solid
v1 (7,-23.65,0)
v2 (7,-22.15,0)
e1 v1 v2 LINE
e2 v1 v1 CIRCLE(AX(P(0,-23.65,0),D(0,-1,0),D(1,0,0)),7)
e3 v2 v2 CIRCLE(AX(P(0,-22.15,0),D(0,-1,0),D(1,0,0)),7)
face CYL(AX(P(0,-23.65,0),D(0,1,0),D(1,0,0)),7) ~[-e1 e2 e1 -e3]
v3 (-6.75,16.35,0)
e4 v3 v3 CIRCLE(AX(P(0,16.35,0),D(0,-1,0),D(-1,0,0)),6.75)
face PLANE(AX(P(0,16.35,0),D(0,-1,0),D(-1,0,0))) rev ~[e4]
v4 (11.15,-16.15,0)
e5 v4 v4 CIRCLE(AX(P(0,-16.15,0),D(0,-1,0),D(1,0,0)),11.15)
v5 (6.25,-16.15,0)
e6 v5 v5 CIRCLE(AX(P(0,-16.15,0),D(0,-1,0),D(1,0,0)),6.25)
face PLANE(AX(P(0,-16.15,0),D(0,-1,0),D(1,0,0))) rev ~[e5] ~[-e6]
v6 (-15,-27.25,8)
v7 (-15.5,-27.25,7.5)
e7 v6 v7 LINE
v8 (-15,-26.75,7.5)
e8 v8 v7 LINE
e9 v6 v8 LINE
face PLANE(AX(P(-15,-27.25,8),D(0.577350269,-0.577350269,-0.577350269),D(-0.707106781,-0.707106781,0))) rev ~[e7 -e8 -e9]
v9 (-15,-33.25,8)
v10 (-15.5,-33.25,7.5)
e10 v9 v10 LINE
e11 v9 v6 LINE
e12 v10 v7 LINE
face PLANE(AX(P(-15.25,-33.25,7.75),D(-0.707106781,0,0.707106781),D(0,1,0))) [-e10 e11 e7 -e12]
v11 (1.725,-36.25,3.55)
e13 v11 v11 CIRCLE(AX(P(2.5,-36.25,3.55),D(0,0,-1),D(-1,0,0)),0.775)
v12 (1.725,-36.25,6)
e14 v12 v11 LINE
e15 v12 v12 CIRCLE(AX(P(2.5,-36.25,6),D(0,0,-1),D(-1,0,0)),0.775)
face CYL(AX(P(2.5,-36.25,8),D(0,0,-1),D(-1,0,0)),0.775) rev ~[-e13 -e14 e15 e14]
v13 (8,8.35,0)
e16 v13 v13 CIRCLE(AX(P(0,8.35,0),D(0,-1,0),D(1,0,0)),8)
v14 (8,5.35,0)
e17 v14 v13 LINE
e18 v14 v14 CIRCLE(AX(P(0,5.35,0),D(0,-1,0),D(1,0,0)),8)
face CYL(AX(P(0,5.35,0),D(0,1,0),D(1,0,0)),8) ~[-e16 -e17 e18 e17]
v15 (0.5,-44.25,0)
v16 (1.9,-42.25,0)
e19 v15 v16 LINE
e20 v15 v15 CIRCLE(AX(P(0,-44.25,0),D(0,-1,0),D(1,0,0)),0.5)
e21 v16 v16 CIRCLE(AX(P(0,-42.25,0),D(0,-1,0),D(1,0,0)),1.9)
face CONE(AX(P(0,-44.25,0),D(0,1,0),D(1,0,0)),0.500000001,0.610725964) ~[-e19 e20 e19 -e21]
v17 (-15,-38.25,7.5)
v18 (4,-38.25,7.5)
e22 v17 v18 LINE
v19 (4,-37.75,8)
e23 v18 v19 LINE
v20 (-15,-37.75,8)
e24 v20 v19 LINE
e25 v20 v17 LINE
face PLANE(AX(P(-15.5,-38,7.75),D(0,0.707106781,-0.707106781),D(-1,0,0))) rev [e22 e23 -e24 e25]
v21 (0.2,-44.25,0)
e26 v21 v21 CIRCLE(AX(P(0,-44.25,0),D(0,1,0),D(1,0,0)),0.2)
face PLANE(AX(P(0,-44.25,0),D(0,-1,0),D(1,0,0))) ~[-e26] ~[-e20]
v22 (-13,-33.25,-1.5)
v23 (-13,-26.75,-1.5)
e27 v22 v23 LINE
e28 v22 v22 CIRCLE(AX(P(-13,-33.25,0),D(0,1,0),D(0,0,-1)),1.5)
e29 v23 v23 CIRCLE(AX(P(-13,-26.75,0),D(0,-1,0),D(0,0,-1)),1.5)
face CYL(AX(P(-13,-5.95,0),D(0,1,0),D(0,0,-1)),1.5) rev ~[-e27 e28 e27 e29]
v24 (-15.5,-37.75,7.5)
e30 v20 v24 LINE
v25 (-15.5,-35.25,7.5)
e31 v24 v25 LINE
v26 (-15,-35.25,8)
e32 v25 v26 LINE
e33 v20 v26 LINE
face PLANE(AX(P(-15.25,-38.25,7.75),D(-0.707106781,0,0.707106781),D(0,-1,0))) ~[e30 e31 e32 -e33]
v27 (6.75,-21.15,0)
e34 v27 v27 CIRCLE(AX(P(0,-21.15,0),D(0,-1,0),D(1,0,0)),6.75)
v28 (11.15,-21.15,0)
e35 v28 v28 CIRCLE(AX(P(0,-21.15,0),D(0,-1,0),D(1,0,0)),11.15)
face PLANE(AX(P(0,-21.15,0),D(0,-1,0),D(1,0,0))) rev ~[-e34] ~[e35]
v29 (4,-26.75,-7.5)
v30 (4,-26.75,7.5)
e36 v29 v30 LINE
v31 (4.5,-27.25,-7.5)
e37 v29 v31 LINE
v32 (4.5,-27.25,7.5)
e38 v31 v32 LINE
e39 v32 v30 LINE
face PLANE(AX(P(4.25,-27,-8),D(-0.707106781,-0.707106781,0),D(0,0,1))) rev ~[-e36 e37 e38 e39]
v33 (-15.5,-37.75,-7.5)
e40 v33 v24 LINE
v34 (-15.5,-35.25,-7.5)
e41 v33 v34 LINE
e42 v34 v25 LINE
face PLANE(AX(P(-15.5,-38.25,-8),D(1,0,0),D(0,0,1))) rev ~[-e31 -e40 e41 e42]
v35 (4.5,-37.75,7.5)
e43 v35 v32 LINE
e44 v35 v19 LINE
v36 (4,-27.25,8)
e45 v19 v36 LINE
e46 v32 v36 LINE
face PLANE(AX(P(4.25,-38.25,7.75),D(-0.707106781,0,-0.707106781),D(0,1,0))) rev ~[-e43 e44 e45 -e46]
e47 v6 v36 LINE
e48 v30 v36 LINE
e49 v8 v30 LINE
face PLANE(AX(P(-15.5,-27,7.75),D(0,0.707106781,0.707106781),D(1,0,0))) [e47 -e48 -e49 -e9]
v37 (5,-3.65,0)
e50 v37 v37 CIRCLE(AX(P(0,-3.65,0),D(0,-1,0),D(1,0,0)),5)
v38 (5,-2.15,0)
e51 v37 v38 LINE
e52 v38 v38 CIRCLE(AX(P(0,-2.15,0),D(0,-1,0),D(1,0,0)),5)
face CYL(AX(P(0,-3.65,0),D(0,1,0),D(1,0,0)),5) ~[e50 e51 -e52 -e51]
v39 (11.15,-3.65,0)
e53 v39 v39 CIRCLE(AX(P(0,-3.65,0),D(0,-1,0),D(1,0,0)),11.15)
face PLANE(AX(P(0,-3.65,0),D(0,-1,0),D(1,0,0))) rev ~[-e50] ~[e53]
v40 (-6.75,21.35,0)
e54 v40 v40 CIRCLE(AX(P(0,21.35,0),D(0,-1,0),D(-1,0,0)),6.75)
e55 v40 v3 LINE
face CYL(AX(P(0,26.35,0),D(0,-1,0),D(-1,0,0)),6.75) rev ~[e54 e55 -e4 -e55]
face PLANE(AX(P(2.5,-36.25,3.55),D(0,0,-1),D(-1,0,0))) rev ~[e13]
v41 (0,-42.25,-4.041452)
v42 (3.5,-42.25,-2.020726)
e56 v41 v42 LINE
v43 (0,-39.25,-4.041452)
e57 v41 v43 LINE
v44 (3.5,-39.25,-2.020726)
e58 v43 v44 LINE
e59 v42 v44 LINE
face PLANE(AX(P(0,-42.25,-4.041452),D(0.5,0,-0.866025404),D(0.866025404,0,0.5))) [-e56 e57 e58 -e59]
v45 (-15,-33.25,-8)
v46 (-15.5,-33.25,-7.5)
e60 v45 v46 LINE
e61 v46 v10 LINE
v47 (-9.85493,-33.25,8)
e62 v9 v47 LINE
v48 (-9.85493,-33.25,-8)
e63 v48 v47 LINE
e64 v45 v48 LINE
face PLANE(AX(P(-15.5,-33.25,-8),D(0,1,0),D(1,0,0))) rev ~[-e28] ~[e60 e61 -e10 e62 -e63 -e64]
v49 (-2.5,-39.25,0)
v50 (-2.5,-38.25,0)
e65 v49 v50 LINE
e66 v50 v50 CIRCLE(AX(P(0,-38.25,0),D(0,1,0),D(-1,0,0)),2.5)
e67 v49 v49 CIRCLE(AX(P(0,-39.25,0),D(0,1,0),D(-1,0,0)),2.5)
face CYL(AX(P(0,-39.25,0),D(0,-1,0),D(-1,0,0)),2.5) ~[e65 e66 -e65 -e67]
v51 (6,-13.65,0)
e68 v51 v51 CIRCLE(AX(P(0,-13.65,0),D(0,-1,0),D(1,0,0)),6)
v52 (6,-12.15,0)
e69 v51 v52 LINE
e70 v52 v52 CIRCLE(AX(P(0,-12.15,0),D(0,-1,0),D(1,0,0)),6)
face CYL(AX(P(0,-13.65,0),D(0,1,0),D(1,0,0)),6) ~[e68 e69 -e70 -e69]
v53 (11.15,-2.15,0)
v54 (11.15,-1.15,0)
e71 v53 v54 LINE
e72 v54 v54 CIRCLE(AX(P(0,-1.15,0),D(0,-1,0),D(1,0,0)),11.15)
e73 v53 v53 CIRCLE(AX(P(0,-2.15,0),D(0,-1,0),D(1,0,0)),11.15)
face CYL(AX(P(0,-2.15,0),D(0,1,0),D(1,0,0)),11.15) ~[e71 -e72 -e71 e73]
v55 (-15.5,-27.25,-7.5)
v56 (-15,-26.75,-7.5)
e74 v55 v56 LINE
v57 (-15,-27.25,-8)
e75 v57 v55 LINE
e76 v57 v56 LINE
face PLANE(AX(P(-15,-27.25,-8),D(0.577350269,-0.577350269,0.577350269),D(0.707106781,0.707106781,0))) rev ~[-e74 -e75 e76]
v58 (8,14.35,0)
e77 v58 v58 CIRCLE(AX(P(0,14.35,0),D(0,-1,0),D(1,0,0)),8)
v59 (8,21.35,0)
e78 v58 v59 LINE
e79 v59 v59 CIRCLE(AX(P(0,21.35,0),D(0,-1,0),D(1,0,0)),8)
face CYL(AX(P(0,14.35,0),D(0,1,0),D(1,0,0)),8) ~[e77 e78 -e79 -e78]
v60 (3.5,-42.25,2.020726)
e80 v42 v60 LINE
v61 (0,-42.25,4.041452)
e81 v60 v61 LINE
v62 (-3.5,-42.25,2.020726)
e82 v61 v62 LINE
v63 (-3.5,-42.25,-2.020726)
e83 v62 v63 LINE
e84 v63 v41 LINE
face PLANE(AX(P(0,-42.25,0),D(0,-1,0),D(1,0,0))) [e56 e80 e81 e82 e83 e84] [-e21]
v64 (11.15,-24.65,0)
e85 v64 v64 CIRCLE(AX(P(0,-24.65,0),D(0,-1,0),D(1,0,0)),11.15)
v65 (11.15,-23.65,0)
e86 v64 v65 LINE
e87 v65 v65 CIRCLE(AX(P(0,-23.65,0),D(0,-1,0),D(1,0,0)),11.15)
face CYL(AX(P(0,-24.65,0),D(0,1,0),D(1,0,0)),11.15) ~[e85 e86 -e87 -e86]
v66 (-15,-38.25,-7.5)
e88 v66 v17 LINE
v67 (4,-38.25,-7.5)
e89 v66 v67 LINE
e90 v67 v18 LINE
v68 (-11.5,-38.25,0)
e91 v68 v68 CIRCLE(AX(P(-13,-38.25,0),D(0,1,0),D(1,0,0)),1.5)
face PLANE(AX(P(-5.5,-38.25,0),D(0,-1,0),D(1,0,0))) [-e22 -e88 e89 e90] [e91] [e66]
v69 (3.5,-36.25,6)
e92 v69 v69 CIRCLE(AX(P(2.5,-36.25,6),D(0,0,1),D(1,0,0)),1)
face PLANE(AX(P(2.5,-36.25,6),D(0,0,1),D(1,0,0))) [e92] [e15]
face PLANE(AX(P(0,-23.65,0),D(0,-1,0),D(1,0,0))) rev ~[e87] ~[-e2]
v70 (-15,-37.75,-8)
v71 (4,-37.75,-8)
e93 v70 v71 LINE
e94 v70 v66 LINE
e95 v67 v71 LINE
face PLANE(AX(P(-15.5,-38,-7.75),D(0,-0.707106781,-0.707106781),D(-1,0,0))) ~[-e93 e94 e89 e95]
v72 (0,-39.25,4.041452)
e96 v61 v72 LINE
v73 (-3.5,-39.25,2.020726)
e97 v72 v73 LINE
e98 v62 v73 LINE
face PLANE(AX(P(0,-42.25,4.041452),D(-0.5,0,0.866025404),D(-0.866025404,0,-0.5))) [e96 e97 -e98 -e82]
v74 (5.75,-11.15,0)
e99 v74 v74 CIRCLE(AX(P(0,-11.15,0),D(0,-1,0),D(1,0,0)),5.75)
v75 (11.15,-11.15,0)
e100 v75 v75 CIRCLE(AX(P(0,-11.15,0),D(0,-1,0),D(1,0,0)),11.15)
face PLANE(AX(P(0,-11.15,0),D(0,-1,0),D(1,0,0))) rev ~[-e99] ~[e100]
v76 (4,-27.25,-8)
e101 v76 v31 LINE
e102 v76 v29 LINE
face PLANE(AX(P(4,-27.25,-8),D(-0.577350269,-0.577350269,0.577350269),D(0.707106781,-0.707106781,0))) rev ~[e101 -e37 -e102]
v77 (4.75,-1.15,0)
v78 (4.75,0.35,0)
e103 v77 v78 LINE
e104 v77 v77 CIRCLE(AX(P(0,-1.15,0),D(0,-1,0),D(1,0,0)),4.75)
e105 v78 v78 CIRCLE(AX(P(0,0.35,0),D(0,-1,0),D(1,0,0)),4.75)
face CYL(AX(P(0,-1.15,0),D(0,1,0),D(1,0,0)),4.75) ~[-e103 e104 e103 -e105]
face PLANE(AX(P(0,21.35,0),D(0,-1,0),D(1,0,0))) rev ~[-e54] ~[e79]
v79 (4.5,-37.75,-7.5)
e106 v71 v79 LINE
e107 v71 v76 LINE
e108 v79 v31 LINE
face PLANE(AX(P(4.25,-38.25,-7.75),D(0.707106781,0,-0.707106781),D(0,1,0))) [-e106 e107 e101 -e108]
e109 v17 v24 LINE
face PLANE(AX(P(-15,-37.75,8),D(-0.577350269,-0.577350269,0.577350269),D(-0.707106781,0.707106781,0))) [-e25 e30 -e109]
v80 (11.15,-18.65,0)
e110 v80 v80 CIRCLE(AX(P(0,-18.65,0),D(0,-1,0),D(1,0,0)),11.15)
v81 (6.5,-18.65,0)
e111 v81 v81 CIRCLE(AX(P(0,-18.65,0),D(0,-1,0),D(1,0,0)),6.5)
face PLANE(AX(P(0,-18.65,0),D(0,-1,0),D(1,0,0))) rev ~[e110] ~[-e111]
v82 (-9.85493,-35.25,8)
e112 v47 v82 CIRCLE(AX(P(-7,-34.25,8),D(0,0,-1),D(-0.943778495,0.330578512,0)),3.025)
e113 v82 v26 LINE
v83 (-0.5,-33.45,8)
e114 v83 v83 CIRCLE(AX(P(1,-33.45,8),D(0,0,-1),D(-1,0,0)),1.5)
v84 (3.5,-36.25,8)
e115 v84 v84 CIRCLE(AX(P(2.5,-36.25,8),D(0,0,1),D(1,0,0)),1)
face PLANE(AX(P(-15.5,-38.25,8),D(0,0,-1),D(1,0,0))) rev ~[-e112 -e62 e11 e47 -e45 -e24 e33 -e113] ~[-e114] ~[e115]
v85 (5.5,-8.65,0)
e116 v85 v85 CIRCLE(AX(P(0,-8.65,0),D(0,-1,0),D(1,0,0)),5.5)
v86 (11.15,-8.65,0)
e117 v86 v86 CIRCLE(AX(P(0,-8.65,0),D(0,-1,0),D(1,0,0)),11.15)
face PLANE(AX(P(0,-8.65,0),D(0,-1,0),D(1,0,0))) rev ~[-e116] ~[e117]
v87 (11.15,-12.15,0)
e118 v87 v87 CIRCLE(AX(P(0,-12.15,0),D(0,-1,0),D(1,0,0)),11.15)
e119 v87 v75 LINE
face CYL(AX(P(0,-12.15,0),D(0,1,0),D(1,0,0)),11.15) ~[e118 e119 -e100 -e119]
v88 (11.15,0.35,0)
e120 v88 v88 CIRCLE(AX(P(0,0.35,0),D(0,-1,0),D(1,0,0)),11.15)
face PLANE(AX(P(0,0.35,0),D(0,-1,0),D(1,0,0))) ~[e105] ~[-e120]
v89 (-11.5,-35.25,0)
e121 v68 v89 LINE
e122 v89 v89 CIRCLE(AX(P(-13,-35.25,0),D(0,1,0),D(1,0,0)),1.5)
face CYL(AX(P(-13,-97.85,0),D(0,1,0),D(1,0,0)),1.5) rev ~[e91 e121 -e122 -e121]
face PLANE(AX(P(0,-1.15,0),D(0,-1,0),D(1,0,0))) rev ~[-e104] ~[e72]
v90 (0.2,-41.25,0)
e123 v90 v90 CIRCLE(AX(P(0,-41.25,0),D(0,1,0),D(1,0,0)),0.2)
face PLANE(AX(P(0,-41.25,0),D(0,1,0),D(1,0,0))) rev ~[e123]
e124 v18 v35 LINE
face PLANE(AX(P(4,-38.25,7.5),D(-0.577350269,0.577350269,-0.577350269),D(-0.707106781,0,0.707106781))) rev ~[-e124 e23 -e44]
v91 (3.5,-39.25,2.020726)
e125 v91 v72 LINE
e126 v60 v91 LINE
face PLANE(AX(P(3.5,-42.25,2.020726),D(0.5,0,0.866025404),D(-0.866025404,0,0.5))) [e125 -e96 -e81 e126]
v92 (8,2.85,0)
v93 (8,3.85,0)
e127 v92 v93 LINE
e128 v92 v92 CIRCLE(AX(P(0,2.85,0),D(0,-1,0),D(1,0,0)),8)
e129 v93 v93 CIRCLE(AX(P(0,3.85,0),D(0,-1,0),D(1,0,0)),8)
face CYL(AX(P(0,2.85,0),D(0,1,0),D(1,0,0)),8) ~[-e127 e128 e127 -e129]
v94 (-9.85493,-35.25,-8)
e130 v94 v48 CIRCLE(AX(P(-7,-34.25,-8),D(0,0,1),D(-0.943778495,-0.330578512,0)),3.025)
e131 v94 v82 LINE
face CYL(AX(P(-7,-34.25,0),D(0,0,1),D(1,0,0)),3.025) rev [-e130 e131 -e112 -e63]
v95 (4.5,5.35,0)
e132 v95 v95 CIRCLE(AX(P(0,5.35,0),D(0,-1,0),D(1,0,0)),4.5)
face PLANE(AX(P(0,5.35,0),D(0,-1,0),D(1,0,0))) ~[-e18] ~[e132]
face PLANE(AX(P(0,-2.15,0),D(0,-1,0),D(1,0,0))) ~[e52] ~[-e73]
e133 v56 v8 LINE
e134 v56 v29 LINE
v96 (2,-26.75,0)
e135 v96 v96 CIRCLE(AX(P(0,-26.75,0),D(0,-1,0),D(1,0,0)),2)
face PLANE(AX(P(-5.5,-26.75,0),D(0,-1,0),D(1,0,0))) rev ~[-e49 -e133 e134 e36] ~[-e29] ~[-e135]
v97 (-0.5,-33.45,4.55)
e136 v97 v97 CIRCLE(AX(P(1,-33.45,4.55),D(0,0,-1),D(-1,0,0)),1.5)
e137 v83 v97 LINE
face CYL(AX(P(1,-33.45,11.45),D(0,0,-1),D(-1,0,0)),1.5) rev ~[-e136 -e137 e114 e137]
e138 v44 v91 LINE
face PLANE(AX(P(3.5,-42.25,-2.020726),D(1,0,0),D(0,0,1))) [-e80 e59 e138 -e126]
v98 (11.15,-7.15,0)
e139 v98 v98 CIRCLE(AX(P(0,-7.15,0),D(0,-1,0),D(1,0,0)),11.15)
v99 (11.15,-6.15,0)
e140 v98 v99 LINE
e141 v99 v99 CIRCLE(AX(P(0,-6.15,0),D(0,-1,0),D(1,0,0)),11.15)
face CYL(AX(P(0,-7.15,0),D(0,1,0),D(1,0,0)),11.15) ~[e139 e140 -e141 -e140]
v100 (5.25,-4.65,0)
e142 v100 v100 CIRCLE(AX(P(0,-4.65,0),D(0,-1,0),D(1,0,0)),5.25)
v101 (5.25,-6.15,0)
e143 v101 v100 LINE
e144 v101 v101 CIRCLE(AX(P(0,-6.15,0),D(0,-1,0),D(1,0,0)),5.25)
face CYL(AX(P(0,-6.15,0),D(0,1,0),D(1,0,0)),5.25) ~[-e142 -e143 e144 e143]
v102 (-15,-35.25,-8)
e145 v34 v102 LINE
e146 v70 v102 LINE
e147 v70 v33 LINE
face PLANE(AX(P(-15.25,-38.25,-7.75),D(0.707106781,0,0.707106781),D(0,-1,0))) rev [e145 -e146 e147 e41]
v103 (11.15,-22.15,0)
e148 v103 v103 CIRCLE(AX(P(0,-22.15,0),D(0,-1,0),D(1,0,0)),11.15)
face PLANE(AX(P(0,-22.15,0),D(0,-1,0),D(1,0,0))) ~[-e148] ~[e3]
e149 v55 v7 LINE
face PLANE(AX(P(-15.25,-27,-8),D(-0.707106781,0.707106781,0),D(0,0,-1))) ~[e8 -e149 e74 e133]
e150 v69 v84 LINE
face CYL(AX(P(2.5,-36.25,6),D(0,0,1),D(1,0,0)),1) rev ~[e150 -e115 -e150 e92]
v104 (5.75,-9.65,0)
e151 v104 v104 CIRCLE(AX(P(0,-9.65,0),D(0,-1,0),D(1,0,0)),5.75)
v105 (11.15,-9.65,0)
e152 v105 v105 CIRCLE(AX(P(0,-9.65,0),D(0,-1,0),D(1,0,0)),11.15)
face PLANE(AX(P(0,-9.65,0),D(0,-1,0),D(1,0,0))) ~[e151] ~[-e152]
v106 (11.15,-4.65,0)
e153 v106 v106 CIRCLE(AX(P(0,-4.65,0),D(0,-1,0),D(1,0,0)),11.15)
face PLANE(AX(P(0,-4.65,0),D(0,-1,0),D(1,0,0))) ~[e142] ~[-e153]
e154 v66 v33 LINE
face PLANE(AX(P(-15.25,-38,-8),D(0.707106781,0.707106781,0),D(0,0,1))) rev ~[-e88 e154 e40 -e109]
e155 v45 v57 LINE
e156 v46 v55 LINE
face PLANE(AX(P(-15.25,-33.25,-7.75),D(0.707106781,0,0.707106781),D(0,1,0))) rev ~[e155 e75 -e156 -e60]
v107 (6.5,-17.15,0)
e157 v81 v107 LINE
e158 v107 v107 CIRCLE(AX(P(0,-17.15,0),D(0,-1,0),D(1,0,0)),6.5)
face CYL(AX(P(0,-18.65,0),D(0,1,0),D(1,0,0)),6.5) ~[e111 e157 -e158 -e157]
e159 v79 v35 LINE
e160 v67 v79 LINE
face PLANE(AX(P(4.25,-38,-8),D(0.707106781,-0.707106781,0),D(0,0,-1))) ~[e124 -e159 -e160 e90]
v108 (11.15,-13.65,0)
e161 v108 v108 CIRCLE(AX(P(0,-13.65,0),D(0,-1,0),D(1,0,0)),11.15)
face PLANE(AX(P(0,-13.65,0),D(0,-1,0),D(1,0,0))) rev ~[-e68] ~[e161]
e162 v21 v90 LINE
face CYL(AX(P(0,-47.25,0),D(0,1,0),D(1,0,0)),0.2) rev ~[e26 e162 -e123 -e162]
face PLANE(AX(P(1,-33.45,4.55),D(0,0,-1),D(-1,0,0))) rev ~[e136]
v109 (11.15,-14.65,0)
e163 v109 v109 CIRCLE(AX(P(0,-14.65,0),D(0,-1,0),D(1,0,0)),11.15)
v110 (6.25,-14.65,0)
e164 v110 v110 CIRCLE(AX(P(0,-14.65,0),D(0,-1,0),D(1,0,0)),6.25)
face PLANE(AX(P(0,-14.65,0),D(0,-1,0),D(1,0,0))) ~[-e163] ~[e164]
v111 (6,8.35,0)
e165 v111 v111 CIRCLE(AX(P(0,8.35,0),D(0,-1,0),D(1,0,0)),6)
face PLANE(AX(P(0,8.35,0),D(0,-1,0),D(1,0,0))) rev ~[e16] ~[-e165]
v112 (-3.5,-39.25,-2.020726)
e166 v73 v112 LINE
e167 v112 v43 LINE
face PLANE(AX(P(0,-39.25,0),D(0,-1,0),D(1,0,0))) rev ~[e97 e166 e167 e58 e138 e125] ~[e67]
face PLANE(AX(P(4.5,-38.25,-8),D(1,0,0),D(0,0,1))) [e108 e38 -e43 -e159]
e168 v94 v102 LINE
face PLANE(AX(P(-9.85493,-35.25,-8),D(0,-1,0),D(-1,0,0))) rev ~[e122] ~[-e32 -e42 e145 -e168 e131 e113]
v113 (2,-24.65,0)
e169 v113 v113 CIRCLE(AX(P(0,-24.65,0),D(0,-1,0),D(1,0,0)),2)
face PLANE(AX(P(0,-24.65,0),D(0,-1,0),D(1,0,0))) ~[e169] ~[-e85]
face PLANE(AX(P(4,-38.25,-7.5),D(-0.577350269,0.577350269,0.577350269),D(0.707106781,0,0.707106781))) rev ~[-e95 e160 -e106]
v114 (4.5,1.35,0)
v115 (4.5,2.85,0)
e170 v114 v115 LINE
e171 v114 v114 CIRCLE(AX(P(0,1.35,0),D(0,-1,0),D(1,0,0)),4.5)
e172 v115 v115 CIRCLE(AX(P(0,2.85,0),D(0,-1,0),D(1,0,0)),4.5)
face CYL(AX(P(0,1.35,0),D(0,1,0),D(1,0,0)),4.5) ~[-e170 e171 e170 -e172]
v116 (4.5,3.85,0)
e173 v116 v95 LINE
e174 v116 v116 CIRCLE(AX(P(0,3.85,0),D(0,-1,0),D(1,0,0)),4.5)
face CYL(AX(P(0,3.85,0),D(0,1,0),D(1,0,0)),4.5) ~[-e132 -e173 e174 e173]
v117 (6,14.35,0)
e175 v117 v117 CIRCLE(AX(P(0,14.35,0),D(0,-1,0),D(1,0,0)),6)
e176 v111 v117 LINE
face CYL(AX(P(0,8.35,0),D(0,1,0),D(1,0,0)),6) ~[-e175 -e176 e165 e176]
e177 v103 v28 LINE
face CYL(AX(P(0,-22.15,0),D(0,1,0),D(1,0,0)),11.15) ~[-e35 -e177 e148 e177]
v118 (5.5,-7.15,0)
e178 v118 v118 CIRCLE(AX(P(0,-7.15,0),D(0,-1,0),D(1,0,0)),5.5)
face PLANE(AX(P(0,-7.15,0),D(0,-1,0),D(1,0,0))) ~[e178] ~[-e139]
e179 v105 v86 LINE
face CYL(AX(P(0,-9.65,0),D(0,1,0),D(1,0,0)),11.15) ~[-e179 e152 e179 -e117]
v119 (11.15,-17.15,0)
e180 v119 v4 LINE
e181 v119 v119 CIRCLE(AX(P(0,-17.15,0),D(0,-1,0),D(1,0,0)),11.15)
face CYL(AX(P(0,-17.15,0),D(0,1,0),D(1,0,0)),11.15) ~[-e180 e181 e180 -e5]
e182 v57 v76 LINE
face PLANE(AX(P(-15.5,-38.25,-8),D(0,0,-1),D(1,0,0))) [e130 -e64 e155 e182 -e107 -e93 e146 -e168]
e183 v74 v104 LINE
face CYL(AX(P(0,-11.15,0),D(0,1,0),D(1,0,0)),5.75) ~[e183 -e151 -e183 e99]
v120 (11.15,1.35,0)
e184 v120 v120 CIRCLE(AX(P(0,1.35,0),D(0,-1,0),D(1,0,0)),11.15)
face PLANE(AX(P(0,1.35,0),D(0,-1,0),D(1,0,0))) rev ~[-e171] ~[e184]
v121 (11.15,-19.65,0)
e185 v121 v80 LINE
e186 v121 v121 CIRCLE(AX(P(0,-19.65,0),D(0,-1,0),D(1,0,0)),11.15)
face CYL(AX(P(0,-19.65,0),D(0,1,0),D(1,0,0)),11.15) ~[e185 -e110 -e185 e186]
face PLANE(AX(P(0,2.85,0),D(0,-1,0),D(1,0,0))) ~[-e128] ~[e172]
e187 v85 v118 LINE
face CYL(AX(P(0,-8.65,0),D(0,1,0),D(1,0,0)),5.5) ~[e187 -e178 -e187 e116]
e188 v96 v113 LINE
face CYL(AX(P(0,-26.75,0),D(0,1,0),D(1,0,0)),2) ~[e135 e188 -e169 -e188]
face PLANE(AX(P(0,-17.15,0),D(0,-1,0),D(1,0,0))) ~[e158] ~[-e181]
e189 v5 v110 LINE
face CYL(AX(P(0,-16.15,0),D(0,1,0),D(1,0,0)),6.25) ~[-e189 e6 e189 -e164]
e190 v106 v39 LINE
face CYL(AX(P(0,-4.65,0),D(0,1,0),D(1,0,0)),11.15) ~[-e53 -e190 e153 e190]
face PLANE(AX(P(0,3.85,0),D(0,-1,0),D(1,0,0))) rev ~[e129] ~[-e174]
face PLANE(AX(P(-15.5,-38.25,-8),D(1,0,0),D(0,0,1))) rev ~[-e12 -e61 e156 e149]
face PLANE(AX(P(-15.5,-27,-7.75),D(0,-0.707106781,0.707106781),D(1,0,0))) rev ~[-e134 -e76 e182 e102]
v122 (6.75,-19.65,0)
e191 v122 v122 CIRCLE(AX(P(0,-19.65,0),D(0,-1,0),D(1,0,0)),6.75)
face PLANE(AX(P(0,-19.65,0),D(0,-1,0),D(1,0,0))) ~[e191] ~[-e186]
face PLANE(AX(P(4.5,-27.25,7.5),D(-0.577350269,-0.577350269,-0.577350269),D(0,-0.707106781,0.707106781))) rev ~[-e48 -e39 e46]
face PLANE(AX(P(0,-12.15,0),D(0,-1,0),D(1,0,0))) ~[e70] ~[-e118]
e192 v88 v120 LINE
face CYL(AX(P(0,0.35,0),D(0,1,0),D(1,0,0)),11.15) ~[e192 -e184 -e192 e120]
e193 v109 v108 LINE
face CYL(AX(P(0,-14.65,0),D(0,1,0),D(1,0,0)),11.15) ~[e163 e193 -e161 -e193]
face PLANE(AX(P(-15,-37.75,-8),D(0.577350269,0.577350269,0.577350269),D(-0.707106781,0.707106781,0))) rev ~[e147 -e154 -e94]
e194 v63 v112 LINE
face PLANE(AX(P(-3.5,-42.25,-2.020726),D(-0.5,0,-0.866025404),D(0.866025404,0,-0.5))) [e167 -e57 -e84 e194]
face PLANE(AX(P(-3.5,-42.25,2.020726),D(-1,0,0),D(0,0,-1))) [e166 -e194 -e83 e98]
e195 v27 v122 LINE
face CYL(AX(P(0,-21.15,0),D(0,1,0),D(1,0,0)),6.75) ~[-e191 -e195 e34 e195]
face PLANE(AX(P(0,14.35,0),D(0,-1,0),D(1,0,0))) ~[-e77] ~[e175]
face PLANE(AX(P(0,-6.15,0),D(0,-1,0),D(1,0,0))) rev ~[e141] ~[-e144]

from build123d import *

# Parameters (mm, degrees)
BOSS_EXTRUDE1_DEPTH              = 3
SKETCH2_R                        = 2.5
BOSS_EXTRUDE2_DEPTH              = 1
SKETCH3_W                        = 20
SKETCH3_H                        = 16
BOSS_EXTRUDE3_DEPTH              = 11.5
CUT_EXTRUDE1_DEPTH               = 17
SKETCH5_W                        = 3.025
SKETCH5_H                        = 16
SKETCH8_W                        = 1.5
SKETCH8_H                        = 54.6
F_3_0_3_DIAMETER_HOLE2_D         = 3
F_3_0_3_DIAMETER_HOLE2_DEPTH     = 3.45
F_3_0_3_DIAMETER_HOLE3_D         = 3
F_3_0_3_DIAMETER_HOLE3_DEPTH     = 59.6
M2X0_4_TAPPED_HOLE1_D            = 1.55
M2X0_4_TAPPED_HOLE1_DEPTH        = 4.45
M2X0_4_TAPPED_HOLE1_CBORE_D      = 2
M2X0_4_TAPPED_HOLE1_CBORE_DEPTH  = 2
F_0_4_0_4_DIAMETER_HOLE1_D       = 0.4
F_0_4_0_4_DIAMETER_HOLE1_DEPTH   = 3
F_13_5_13_5_DIAMETER_HOLE1_D     = 13.5
F_13_5_13_5_DIAMETER_HOLE1_DEPTH = 5
CHAMFER1_SIZE                    = 0.5


with BuildPart() as part:
    # Sketch1 → Boss-Extrude1 (new body)
    with BuildSketch(Plane.XZ.offset(42.25)):
        Polygon((-3.5, 2.020725942), (-3.5, -2.020725942), (0, -4.041451884), (3.5, -2.020725942), (3.5, 2.020725942), (0, 4.041451884), align=None)
    extrude(amount=-BOSS_EXTRUDE1_DEPTH)

    # Sketch2 → Boss-Extrude2 (add)
    with BuildSketch(Plane(origin=(0, -39.25, 0), x_dir=(-1, 0, 0), z_dir=(0, 1, 0))):
        Circle(SKETCH2_R)
    extrude(amount=BOSS_EXTRUDE2_DEPTH)

    # Sketch3 → Boss-Extrude3 (add)
    with BuildSketch(Plane.XZ.offset(38.25)):
        with Locations((-5.5, 0)):
            Rectangle(SKETCH3_W, SKETCH3_H)
    extrude(amount=-BOSS_EXTRUDE3_DEPTH)

    # Sketch4 → Cut-Extrude1 (cut, through all)
    with BuildSketch(Plane(origin=(0, 0, -8), x_dir=(-1, 0, 0), z_dir=(0, 0, -1))):
        with BuildLine():
            Line((15.5, -33.25), (9.854929947, -33.25))
            ThreePointArc((9.854929947, -33.25), (10.025, -34.25), (9.854929947, -35.25))
            Line((9.854929947, -35.25), (15.5, -35.25))
            Line((15.5, -35.25), (15.5, -33.25))
        make_face()
    extrude(amount=-CUT_EXTRUDE1_DEPTH, mode=Mode.SUBTRACT)

    # Sketch5 → Cut-Revolve1 (revolve, cut)
    with BuildSketch(Plane.XZ.offset(34.25)):
        with Locations((-5.4875, 0)):
            Rectangle(SKETCH5_W, SKETCH5_H)
    revolve(axis=Axis((-7, -34.25, 8), (0, 0, -1)), mode=Mode.SUBTRACT)

    # Sketch6 → Revolve1 (revolve)
    with BuildSketch(Plane.XY):
        Polygon((1.9, -42.249999999), (0, -42.249999999), (0, -44.25), (0.500000001, -44.25), align=None)
    revolve(axis=Axis((0, -42.249999999, 0), (0, -1, 0)))

    # Sketch7 → Revolve2 (revolve)
    with BuildSketch(Plane.XY):
        Polygon((8, 21.35), (0, 21.35), (0, -26.75), (2, -26.75), (2, -24.65), (11.15, -24.65), (11.15, -23.65), (7, -23.65), (7, -22.15), (11.15, -22.15), (11.15, -21.15), (6.75, -21.15), (6.75, -19.65), (11.15, -19.65), (11.15, -18.65), (6.5, -18.65), (6.5, -17.15), (11.15, -17.15), (11.15, -16.15), (6.25, -16.15), (6.25, -14.65), (11.15, -14.65), (11.15, -13.65), (6, -13.65), (6, -12.15), (11.15, -12.15), (11.15, -11.15), (5.75, -11.15), (5.75, -9.65), (11.15, -9.65), (11.15, -8.65), (5.5, -8.65), (5.5, -7.15), (11.15, -7.15), (11.15, -6.15), (5.25, -6.15), (5.25, -4.65), (11.15, -4.65), (11.15, -3.65), (5, -3.65), (5, -2.15), (11.15, -2.15), (11.15, -1.15), (4.75, -1.15), (4.75, 0.35), (11.15, 0.35), (11.15, 1.35), (4.5, 1.35), (4.5, 2.85), (8, 2.85), (8, 3.85), (4.5, 3.85), (4.5, 5.35), (8, 5.35), (8, 8.35), (6, 8.35), (6, 14.35), (8, 14.35), align=None)
    revolve(axis=Axis((0, 21.35, 0), (0, -1, 0)))

    # Sketch8 → Ø3.0 (3) Diameter Hole1 (revolve, cut)
    with BuildSketch(Plane(origin=(-13, -33.25, 0), x_dir=(0, 0, -1), z_dir=(1, 0, 0))):
        with Locations((0.75, 27.3)):
            Rectangle(SKETCH8_W, SKETCH8_H)
    revolve(axis=Axis((-13, -39.6, 0), (0, 1, 0)), mode=Mode.SUBTRACT)

    # Ø3.0 (3) Diameter Hole2
    with Locations(Plane.XY.offset(8)):
        with Locations((1, -33.45)):
            Hole(F_3_0_3_DIAMETER_HOLE2_D / 2, depth=F_3_0_3_DIAMETER_HOLE2_DEPTH)

    # Ø3.0 (3) Diameter Hole3
    with Locations(Plane(origin=(0, -38.25, 0), x_dir=(-1, 0, 0), z_dir=(0, -1, 0))):
        with Locations((13, 0)):
            Hole(F_3_0_3_DIAMETER_HOLE3_D / 2, depth=F_3_0_3_DIAMETER_HOLE3_DEPTH)

    # M2x0.4 Tapped Hole1
    with Locations(Plane.XY.offset(8)):
        with Locations((2.5, -36.25)):
            CounterBoreHole(M2X0_4_TAPPED_HOLE1_D / 2, M2X0_4_TAPPED_HOLE1_CBORE_D / 2, M2X0_4_TAPPED_HOLE1_CBORE_DEPTH, depth=M2X0_4_TAPPED_HOLE1_DEPTH)

    # Ø0.4 (0.4) Diameter Hole1
    with Locations(Plane(origin=(0, -44.25, 0), x_dir=(-1, 0, 0), z_dir=(0, -1, 0))):
        with Locations((0, 0)):
            Hole(F_0_4_0_4_DIAMETER_HOLE1_D / 2, depth=F_0_4_0_4_DIAMETER_HOLE1_DEPTH)

    # Ø13.5 (13.5) Diameter Hole1
    with Locations(Plane(origin=(0, 21.35, 0), x_dir=(1, 0, 0), z_dir=(0, 1, 0))):
        with Locations((0, 0)):
            Hole(F_13_5_13_5_DIAMETER_HOLE1_D / 2, depth=F_13_5_13_5_DIAMETER_HOLE1_DEPTH)

    # Chamfer1
    chamfer1_edges = [part.edges().sort_by_distance(p)[0] for p in [
        (-15.5, -26.75, 0),
        (-15.5, -30, -8),
        (-5.5, -26.75, 8),
        (-15.5, -30, 8),
        (4.5, -26.75, 0),
        (4.5, -32.5, 8),
        (-5.5, -26.75, -8),
        (4.5, -32.5, -8),
        (-15.5, -38.25, 0),
        (-5.5, -38.25, -8),
        (4.5, -38.25, 0),
        (-5.5, -38.25, 8),
        (-15.5, -36.75, -8),
        (-15.5, -36.75, 8),
    ]]
    chamfer(chamfer1_edges, length=CHAMFER1_SIZE)


solid = part.part
